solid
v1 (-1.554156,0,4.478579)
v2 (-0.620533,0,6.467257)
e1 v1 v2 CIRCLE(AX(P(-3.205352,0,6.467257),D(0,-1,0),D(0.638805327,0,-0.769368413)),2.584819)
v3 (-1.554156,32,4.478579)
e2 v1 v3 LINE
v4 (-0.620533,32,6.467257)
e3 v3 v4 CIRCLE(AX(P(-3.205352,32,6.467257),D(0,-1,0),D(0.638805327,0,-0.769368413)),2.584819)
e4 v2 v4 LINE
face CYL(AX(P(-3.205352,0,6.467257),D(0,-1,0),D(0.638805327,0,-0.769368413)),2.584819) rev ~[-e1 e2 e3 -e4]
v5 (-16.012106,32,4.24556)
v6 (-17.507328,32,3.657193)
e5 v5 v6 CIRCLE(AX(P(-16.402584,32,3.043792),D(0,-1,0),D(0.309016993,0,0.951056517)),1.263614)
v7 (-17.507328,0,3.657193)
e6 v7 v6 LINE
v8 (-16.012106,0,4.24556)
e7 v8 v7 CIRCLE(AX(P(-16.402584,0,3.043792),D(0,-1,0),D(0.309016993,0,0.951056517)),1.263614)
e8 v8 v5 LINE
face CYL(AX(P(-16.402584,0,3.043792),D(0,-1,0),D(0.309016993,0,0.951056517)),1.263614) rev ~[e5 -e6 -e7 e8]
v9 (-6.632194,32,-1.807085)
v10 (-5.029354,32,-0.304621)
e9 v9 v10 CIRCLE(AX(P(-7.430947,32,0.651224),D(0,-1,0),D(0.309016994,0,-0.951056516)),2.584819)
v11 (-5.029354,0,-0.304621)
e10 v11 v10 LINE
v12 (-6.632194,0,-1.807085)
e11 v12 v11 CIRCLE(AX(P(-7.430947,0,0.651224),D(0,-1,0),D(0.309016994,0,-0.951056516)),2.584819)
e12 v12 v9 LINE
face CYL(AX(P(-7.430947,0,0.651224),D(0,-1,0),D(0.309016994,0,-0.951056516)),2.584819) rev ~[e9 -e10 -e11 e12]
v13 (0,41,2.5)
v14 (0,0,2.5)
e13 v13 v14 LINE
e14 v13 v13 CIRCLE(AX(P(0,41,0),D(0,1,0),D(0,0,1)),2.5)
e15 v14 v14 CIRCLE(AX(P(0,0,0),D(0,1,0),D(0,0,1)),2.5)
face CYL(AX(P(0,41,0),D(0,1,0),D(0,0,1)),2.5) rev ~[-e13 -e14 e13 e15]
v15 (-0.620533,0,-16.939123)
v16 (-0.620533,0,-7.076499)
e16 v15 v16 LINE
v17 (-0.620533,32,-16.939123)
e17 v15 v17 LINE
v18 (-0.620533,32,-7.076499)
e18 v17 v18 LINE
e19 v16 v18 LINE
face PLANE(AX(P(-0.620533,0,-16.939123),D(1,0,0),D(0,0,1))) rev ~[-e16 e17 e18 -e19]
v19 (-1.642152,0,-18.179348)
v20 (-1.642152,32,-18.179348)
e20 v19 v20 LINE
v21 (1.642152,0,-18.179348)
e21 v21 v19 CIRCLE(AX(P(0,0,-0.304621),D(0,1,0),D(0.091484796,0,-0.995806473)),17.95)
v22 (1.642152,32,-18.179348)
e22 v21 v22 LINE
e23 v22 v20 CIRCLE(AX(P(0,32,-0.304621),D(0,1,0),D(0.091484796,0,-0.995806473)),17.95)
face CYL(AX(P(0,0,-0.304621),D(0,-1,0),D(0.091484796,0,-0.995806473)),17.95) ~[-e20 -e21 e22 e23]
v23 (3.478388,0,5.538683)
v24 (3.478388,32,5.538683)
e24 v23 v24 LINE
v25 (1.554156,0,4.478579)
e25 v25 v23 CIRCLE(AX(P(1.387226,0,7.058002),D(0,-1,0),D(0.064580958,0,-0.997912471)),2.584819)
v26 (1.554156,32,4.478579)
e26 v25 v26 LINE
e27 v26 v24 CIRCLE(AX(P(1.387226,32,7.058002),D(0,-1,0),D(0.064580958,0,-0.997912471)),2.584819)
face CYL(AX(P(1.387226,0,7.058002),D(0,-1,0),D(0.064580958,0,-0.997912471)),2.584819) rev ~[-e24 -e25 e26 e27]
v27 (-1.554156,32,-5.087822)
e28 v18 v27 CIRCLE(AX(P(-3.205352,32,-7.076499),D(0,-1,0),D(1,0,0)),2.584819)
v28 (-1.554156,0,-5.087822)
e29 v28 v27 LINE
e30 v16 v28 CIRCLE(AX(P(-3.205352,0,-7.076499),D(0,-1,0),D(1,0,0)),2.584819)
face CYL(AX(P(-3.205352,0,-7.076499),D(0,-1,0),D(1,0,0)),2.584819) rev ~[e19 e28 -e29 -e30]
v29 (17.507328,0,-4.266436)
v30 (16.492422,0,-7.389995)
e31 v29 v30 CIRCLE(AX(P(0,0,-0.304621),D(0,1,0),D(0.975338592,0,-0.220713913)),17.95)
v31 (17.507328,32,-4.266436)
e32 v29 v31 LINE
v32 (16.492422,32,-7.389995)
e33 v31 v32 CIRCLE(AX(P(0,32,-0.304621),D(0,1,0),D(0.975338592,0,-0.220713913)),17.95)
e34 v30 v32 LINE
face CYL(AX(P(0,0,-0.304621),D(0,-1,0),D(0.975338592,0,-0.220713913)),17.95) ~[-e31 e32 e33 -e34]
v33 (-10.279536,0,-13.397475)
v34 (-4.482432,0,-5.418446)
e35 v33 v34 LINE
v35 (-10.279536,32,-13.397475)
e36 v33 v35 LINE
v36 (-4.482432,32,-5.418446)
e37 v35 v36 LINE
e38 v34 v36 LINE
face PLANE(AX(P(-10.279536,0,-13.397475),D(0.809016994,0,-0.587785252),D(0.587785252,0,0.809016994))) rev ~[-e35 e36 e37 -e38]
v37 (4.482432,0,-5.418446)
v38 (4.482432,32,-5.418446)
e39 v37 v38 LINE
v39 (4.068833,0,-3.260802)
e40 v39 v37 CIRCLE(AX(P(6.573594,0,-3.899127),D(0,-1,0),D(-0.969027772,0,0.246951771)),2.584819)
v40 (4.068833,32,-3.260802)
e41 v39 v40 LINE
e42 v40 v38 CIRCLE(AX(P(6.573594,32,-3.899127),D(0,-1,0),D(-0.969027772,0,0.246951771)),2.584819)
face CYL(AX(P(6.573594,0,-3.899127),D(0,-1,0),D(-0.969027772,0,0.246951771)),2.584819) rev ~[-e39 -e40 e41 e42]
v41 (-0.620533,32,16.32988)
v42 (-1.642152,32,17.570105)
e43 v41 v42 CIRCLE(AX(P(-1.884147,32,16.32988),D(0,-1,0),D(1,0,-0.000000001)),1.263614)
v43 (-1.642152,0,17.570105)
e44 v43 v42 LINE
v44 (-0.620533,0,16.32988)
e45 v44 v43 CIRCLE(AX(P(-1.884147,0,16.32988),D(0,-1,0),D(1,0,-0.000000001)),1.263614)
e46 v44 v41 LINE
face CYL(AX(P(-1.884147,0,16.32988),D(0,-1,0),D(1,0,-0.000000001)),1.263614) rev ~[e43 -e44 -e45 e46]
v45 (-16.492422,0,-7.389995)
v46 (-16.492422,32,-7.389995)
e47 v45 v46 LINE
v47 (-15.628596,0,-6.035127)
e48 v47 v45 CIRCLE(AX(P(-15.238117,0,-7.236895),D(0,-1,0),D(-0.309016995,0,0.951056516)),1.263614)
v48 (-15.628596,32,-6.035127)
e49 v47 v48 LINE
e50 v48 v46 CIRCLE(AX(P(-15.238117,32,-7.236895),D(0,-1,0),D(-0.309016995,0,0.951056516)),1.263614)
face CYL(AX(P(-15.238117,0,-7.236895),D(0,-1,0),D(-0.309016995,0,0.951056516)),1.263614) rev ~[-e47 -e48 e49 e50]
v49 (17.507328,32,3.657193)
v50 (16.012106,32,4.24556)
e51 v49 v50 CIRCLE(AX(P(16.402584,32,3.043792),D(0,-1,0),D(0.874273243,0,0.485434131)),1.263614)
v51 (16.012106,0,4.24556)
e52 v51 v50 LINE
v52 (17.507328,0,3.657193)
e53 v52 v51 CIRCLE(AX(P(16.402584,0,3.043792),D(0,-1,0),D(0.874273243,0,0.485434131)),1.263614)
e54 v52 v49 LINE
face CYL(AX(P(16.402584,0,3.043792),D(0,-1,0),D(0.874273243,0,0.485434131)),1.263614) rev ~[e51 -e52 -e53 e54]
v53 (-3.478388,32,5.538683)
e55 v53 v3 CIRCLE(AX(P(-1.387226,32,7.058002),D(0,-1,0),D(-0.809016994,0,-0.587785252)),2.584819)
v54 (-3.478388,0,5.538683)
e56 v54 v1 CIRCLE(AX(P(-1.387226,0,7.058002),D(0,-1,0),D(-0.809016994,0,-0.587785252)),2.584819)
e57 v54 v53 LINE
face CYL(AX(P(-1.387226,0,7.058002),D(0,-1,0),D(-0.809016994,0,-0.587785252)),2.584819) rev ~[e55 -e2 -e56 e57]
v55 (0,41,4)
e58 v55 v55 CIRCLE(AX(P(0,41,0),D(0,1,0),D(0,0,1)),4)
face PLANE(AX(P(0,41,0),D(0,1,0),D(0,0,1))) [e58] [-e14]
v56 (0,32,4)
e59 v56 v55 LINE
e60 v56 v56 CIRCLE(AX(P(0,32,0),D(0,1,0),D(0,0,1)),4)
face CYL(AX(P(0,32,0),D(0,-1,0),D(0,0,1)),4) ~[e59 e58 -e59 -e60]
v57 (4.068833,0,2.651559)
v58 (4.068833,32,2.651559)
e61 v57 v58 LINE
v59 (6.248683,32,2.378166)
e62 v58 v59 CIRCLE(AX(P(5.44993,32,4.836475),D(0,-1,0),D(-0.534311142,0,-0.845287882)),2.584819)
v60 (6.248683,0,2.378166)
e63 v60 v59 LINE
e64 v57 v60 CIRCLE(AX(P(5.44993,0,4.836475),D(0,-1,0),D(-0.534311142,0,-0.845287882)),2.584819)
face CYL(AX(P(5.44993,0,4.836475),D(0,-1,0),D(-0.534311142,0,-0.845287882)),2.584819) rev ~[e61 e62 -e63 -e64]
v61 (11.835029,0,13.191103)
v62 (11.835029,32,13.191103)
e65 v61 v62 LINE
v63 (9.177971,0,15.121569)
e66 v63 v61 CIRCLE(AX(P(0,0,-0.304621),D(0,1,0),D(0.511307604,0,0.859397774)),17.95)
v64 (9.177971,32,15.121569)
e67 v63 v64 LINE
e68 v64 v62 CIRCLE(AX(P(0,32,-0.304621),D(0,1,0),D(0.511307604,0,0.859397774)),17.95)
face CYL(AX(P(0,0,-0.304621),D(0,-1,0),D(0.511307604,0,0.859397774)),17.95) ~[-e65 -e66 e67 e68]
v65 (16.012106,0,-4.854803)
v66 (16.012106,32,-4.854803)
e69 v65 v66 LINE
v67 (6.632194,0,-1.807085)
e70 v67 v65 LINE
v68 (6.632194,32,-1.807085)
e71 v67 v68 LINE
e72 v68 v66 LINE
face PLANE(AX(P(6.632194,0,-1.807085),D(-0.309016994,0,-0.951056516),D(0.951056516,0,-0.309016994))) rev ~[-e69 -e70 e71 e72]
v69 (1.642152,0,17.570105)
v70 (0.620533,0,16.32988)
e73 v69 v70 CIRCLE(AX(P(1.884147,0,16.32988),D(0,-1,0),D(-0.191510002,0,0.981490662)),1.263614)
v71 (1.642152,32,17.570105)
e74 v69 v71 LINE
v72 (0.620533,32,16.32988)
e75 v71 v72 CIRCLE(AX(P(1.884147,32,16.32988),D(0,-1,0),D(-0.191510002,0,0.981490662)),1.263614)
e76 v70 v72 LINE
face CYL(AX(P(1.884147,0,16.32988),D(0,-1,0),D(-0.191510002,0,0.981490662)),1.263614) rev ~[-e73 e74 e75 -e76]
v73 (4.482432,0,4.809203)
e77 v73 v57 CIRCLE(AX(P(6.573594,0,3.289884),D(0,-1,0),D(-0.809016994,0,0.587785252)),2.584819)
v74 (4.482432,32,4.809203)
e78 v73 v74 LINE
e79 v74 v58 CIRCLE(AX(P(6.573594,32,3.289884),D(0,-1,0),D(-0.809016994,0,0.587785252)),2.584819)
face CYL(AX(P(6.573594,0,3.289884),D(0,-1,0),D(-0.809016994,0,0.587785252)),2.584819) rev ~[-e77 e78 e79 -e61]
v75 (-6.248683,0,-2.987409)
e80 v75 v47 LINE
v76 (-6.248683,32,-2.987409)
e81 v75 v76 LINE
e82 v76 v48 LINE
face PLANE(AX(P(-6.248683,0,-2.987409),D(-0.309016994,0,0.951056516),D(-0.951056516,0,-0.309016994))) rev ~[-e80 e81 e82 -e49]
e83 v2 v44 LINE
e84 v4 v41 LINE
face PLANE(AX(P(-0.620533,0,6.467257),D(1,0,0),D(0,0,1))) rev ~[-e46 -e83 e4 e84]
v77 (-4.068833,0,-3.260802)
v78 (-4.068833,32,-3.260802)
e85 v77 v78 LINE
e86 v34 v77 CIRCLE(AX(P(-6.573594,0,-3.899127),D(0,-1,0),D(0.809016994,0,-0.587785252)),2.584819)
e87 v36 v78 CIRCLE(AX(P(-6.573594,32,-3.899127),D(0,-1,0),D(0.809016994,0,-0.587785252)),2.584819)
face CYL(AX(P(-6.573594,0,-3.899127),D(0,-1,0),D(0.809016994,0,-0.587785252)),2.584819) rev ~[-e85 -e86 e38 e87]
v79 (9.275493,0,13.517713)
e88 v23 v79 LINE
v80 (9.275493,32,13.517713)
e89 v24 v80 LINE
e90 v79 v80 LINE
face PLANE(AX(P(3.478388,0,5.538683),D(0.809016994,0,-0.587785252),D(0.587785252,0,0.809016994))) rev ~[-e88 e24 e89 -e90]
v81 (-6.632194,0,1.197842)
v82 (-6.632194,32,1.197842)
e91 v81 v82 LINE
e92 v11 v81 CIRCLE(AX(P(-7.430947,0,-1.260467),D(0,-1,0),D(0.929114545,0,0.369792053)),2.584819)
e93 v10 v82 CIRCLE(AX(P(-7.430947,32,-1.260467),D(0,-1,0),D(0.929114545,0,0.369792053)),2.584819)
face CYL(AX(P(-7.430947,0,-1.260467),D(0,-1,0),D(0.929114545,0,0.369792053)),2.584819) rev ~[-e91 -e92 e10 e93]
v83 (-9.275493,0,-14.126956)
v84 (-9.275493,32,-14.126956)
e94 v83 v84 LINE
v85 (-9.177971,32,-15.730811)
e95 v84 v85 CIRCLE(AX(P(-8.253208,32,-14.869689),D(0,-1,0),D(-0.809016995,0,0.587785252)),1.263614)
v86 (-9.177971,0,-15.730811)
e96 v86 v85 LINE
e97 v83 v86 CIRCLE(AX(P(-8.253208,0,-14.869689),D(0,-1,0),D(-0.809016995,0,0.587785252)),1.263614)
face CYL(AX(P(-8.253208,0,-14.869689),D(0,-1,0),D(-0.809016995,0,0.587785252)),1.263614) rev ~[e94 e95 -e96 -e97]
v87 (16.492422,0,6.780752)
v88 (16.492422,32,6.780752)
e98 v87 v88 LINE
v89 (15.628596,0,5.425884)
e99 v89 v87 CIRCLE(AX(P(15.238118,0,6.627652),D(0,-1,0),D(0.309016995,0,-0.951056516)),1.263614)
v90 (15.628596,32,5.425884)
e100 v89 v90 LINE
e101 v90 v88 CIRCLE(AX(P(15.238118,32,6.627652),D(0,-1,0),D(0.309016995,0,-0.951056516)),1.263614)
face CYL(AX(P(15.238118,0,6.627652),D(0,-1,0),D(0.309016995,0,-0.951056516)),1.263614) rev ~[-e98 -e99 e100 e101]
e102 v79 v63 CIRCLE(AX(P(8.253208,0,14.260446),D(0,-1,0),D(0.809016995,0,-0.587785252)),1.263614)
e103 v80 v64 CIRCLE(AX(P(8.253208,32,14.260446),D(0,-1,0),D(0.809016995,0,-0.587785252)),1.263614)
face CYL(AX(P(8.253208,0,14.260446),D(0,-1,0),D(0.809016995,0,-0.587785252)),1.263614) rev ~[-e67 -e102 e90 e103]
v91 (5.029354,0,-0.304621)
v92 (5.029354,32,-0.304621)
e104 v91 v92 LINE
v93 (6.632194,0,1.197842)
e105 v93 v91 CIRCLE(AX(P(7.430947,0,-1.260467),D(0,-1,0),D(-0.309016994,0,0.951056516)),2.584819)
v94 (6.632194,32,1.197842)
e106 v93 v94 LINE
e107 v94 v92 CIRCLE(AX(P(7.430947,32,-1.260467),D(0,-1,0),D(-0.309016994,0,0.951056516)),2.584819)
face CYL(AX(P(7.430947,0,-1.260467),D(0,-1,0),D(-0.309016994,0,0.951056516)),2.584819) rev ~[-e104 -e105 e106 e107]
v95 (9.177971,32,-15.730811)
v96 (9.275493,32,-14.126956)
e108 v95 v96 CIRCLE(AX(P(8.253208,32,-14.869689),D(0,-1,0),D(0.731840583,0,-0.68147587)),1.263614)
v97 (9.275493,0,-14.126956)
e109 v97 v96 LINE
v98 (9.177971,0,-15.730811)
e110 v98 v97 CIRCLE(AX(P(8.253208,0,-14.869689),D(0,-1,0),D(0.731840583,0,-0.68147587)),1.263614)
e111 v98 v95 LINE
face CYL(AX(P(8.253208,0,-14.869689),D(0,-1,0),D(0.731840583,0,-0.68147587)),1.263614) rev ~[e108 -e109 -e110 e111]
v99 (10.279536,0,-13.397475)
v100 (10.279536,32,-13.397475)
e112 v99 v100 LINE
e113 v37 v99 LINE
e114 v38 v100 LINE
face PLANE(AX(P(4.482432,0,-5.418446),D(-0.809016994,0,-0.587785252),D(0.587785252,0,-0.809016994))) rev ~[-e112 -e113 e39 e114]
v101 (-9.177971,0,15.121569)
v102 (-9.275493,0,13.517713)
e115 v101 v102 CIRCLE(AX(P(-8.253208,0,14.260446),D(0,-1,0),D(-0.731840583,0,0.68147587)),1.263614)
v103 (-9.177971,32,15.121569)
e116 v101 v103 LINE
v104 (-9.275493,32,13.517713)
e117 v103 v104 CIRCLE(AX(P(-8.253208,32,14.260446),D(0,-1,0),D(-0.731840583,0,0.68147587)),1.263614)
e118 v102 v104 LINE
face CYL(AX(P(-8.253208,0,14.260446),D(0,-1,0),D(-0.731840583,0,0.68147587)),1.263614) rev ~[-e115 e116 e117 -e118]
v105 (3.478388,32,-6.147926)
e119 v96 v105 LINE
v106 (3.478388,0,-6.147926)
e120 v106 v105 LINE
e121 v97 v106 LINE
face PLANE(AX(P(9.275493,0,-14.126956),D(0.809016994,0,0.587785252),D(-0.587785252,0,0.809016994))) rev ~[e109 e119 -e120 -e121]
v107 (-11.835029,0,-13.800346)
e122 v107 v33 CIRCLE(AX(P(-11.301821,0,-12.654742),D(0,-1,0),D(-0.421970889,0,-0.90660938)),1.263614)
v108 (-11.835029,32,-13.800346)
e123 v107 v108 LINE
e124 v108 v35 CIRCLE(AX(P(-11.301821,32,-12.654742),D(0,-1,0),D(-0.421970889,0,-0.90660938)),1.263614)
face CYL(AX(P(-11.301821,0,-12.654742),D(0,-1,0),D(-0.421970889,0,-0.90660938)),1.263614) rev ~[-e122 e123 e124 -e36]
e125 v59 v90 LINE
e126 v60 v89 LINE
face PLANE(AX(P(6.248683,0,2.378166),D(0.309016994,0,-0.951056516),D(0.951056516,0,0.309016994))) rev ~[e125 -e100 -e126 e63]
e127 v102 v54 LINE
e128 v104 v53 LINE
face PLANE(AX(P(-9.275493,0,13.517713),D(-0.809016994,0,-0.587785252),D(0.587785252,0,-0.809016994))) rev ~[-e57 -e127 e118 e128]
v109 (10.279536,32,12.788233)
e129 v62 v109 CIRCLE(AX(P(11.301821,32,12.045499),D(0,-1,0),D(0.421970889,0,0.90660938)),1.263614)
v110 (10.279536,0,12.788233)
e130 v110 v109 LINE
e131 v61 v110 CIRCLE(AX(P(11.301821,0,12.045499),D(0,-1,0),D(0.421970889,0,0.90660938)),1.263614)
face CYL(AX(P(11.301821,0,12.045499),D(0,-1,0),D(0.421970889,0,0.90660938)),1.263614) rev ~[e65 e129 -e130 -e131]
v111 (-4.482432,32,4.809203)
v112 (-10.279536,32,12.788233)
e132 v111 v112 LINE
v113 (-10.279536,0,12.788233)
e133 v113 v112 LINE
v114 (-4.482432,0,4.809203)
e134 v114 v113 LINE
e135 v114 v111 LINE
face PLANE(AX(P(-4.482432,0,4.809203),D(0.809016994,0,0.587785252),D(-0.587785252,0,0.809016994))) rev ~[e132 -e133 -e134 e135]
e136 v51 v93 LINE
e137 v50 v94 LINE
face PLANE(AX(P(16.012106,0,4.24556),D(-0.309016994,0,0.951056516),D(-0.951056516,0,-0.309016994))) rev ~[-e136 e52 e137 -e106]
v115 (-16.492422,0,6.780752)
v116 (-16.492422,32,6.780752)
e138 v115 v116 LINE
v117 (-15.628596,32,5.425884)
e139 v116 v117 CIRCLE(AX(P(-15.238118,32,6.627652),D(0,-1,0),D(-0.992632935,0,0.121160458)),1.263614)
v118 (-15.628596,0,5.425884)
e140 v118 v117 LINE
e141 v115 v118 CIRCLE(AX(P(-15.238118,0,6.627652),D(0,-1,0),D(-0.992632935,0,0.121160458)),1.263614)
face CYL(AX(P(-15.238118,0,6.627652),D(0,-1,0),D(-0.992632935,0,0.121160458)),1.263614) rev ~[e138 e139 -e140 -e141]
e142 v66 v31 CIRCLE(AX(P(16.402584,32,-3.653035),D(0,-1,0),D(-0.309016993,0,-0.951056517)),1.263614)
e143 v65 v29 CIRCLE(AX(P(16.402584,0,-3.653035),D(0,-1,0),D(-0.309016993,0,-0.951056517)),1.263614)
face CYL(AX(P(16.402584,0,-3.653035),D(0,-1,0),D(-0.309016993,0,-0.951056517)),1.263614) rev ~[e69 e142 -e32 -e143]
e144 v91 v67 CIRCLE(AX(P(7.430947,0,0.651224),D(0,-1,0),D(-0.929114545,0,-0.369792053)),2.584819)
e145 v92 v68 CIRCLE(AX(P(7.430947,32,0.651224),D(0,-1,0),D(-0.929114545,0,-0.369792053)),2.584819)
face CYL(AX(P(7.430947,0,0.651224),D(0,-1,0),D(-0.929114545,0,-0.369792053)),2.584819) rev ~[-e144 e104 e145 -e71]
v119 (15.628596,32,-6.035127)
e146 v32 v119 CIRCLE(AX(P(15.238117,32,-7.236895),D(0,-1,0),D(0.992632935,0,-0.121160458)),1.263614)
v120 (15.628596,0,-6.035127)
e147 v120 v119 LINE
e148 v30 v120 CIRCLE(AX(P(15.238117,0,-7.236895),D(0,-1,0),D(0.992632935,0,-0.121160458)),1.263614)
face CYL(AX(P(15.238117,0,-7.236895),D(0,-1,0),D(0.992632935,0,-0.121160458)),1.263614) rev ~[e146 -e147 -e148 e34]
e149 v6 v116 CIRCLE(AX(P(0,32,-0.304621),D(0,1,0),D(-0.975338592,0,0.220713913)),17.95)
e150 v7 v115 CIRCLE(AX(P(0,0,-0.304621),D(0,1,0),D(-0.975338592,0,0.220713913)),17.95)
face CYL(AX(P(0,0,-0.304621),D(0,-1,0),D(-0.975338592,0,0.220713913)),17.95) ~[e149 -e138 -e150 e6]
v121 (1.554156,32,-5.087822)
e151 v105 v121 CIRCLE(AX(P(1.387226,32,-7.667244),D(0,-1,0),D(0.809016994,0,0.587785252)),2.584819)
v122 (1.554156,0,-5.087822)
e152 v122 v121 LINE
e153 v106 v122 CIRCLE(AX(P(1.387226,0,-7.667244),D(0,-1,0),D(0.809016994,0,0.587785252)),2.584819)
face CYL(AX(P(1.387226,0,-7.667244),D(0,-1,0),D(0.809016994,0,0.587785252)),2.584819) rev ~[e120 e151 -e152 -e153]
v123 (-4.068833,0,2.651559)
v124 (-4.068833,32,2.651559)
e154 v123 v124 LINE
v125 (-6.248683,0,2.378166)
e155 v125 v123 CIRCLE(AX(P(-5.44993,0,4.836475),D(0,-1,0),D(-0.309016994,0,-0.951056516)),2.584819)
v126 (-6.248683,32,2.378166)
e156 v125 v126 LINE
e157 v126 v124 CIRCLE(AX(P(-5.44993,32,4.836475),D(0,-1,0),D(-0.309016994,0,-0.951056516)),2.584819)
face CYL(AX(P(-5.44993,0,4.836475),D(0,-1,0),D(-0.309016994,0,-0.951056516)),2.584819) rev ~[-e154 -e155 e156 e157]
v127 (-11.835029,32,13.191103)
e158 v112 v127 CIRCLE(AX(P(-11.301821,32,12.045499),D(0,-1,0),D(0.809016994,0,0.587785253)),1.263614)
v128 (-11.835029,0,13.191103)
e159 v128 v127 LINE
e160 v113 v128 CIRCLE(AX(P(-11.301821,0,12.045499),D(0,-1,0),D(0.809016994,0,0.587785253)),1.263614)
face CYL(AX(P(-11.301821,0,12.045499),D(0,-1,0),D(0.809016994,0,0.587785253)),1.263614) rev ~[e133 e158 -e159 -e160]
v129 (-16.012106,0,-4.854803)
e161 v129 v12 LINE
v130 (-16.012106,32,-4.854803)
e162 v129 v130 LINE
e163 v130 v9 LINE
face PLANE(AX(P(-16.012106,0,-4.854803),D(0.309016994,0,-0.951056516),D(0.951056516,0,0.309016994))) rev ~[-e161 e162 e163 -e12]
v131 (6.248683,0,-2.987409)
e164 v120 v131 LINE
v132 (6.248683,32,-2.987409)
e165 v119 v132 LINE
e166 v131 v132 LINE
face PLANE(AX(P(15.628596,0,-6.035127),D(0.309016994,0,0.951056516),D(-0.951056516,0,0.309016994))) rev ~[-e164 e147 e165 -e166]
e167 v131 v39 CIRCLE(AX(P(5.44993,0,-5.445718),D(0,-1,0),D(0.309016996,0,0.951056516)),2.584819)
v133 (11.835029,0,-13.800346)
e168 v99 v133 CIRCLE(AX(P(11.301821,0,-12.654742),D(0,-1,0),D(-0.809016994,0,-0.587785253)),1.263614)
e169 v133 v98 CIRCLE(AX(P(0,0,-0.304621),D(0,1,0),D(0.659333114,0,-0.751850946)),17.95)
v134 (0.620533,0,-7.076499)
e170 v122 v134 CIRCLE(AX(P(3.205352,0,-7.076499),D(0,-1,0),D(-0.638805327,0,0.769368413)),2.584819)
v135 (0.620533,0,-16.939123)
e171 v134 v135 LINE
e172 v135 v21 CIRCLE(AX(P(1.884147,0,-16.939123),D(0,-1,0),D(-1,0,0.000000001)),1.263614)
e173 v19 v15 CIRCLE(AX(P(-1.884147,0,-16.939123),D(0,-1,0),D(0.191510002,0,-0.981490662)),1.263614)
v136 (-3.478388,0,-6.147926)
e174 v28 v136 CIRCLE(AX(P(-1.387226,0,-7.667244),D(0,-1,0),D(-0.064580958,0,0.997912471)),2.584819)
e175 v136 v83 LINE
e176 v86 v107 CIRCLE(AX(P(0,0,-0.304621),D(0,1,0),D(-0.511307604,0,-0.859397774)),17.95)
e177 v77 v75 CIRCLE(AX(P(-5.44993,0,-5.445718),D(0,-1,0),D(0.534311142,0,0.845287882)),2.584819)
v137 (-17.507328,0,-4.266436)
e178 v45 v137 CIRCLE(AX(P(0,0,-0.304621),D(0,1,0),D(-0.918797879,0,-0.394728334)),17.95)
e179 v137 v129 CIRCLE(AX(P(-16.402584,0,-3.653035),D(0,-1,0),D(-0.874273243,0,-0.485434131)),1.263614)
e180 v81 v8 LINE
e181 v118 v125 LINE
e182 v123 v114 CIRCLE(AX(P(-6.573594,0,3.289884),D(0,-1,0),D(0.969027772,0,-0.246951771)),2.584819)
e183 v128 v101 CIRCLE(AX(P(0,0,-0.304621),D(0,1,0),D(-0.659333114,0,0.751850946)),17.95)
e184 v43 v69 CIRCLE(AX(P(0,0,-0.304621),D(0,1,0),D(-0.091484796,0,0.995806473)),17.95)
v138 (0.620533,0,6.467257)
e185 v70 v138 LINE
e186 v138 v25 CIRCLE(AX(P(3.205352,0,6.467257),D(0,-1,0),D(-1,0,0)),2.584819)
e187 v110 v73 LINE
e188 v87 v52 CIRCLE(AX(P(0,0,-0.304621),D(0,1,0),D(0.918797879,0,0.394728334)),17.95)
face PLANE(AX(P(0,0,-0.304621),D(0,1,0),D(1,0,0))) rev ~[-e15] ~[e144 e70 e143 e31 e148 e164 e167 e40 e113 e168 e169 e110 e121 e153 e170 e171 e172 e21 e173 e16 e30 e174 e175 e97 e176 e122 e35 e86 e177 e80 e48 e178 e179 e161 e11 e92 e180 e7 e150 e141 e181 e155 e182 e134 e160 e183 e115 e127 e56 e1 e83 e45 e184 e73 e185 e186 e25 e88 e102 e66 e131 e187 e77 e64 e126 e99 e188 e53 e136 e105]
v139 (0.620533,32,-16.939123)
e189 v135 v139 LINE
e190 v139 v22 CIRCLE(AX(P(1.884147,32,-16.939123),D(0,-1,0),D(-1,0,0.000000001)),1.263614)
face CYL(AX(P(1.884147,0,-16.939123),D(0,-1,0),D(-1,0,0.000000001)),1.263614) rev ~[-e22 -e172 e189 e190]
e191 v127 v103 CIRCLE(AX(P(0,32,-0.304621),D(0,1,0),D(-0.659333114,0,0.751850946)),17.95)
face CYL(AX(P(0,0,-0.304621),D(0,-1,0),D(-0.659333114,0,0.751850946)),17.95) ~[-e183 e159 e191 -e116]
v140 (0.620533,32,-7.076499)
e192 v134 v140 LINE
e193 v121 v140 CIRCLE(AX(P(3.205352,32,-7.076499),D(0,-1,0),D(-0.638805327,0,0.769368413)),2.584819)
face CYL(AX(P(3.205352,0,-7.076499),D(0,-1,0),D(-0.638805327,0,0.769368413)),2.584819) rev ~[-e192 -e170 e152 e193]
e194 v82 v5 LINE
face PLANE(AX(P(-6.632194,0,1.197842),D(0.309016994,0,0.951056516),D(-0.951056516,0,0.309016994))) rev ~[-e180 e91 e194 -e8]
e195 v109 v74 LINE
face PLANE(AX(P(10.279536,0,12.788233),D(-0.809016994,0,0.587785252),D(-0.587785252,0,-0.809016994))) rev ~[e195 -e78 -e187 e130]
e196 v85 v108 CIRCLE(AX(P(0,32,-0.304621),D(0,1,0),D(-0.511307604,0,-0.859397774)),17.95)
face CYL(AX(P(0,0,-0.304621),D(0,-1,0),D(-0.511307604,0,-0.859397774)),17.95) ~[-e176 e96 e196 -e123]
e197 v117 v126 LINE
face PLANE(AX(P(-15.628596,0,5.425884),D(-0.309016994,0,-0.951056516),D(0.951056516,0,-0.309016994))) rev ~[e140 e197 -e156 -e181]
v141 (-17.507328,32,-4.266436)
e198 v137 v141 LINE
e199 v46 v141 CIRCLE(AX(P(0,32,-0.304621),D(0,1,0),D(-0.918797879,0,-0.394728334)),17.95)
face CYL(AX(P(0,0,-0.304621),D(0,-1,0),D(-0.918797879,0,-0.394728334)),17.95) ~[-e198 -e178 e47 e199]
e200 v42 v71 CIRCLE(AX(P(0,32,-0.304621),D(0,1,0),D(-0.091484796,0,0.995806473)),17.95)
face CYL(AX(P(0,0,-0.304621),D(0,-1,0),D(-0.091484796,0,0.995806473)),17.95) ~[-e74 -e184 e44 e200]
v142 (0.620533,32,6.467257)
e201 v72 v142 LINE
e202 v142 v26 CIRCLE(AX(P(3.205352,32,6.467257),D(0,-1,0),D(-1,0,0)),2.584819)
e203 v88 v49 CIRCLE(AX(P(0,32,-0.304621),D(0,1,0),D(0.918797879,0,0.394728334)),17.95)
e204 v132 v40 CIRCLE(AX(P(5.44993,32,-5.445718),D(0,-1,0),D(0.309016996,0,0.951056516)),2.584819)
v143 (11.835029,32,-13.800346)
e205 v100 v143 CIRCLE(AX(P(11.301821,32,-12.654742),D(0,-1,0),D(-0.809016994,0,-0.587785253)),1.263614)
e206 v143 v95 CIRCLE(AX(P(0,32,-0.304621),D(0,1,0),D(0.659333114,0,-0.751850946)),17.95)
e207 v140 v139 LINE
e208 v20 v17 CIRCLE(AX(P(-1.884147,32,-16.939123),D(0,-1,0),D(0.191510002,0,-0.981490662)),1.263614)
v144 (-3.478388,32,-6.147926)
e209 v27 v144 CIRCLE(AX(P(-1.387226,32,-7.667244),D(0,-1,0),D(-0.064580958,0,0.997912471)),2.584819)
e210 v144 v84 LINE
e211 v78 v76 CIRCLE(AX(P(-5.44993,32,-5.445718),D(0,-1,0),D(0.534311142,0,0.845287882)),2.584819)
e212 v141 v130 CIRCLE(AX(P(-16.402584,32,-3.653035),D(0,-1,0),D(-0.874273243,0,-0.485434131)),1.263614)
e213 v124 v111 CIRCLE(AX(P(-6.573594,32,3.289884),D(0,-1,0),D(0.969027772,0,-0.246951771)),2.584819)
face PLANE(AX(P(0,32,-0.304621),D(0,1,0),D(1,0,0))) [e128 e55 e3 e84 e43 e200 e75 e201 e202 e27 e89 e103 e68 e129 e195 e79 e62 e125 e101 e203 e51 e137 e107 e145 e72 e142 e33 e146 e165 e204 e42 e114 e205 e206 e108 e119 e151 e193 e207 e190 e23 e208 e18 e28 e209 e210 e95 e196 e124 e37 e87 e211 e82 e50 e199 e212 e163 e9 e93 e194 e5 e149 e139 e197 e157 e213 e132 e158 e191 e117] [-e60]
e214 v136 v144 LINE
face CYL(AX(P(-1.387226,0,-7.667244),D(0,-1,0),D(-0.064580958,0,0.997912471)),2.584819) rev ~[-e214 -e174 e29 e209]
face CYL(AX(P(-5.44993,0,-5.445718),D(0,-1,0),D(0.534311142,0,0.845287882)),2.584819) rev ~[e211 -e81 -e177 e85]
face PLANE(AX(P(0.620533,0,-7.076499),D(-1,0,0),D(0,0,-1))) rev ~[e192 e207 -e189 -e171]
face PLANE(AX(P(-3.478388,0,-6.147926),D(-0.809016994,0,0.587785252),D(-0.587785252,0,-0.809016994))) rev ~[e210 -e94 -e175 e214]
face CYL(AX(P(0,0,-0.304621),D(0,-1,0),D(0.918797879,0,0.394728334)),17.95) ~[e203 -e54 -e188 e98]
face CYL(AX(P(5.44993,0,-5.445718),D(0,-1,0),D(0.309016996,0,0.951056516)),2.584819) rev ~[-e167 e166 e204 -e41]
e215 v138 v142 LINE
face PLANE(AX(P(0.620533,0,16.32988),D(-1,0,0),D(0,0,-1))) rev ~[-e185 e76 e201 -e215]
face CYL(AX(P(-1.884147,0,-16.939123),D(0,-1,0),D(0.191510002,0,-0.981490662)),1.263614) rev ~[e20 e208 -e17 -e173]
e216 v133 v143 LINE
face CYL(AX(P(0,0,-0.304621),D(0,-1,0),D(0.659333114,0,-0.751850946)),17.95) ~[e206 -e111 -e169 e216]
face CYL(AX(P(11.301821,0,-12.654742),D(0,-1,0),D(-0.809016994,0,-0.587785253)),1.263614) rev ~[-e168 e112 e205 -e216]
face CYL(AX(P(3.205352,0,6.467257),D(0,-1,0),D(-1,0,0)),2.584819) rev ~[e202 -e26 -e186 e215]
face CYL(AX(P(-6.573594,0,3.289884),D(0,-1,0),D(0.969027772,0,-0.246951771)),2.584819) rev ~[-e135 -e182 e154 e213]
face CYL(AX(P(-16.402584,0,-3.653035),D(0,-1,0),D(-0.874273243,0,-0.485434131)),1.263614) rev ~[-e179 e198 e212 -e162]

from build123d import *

# Parameters (mm, degrees)
EXTRUDE_1_DEPTH     = 32
SKETCH_3_R          = 4
EXTRUDE_2_DEPTH     = 9
SKETCH_4_R          = 2.5
CUT_EXTRUDE_1_DEPTH = 49.174035829


with BuildPart() as part:
    # 草图2 → 凸台-拉伸1 (new body)
    with BuildSketch(Plane(origin=(0, 0, 0), x_dir=(1, 0, 0), z_dir=(0, 1, 0))):
        with BuildLine():
            Line((-0.620533184, 16.939122741), (-0.620533184, 7.076499426))
            ThreePointArc((-0.620533184, 7.076499426), (-0.865551691, 5.978035603), (-1.554155931, 5.087821563))
            ThreePointArc((-1.554155931, 5.087821563), (-2.634503149, 5.403268433), (-3.47838812, 6.147926068))
            Line((-3.47838812, 6.147926068), (-9.275492654, 14.126955939))
            ThreePointArc((-9.275492654, 14.126955939), (-9.514491938, 14.94638072), (-9.177971495, 15.730811482))
            ThreePointArc((-9.177971495, 15.730811482), (-10.550745279, 14.826476488), (-11.835029396, 13.800345917))
            ThreePointArc((-11.835029396, 13.800345917), (-10.985000873, 13.877993441), (-10.279536436, 13.397475432))
            Line((-10.279536436, 13.397475432), (-4.482431902, 5.41844556))
            ThreePointArc((-4.482431902, 5.41844556), (-4.034995203, 4.385751395), (-4.068833052, 3.260801691))
            ThreePointArc((-4.068833052, 3.260801691), (-5.128267329, 2.880991407), (-6.248683387, 2.987408949))
            Line((-6.248683387, 2.987408949), (-15.62859556, 6.035127162))
            ThreePointArc((-15.62859556, 6.035127162), (-16.303595844, 6.557575481), (-16.49242192, 7.389995052))
            ThreePointArc((-16.49242192, 7.389995052), (-17.071464467, 5.851476488), (-17.507327728, 4.266436154))
            ThreePointArc((-17.507327728, 4.266436154), (-16.865280276, 4.82888855), (-16.012106158, 4.854802907))
            Line((-16.012106158, 4.854802907), (-6.632193986, 1.807084693))
            ThreePointArc((-6.632193986, 1.807084693), (-5.663207692, 1.234614256), (-5.029354242, 0.304621439))
            ThreePointArc((-5.029354242, 0.304621439), (-5.663207692, -0.625371378), (-6.632193986, -1.197841815))
            Line((-6.632193986, -1.197841815), (-16.012106158, -4.245560029))
            ThreePointArc((-16.012106158, -4.245560029), (-16.865280276, -4.219645672), (-17.507327728, -3.657193276))
            ThreePointArc((-17.507327728, -3.657193276), (-17.071464467, -5.24223361), (-16.49242192, -6.780752173))
            ThreePointArc((-16.49242192, -6.780752173), (-16.303595844, -5.948332603), (-15.62859556, -5.425884284))
            Line((-15.62859556, -5.425884284), (-6.248683387, -2.37816607))
            ThreePointArc((-6.248683387, -2.37816607), (-5.128267329, -2.271748529), (-4.068833052, -2.651558813))
            ThreePointArc((-4.068833052, -2.651558813), (-4.034995203, -3.776508517), (-4.482431902, -4.809202682))
            Line((-4.482431902, -4.809202682), (-10.279536436, -12.788232554))
            ThreePointArc((-10.279536436, -12.788232554), (-10.985000873, -13.268750563), (-11.835029396, -13.191103039))
            ThreePointArc((-11.835029396, -13.191103039), (-10.550745279, -14.21723361), (-9.177971495, -15.121568604))
            ThreePointArc((-9.177971495, -15.121568604), (-9.514491938, -14.337137842), (-9.275492654, -13.517713061))
            Line((-9.275492654, -13.517713061), (-3.47838812, -5.53868319))
            ThreePointArc((-3.47838812, -5.53868319), (-2.634503149, -4.794025555), (-1.554155931, -4.478578685))
            ThreePointArc((-1.554155931, -4.478578685), (-0.865551691, -5.368792725), (-0.620533184, -6.467256547))
            Line((-0.620533184, -6.467256547), (-0.620533184, -16.329879863))
            ThreePointArc((-0.620533184, -16.329879863), (-0.908824502, -17.133288691), (-1.642152093, -17.570104755))
            ThreePointArc((-1.642152093, -17.570104755), (0, -17.645378561), (1.642152093, -17.570104755))
            ThreePointArc((1.642152093, -17.570104755), (0.908824502, -17.133288691), (0.620533184, -16.329879863))
            Line((0.620533184, -16.329879863), (0.620533184, -6.467256547))
            ThreePointArc((0.620533184, -6.467256547), (0.865551691, -5.368792725), (1.554155931, -4.478578685))
            ThreePointArc((1.554155931, -4.478578685), (2.634503149, -4.794025555), (3.47838812, -5.53868319))
            Line((3.47838812, -5.53868319), (9.275492654, -13.517713061))
            ThreePointArc((9.275492654, -13.517713061), (9.514491938, -14.337137842), (9.177971495, -15.121568604))
            ThreePointArc((9.177971495, -15.121568604), (10.550745279, -14.21723361), (11.835029396, -13.191103039))
            ThreePointArc((11.835029396, -13.191103039), (10.985000873, -13.268750563), (10.279536436, -12.788232554))
            Line((10.279536436, -12.788232554), (4.482431902, -4.809202682))
            ThreePointArc((4.482431902, -4.809202682), (4.034995203, -3.776508517), (4.068833052, -2.651558813))
            ThreePointArc((4.068833052, -2.651558813), (5.128267329, -2.271748529), (6.248683387, -2.37816607))
            Line((6.248683387, -2.37816607), (15.62859556, -5.425884284))
            ThreePointArc((15.62859556, -5.425884284), (16.303595844, -5.948332603), (16.49242192, -6.780752173))
            ThreePointArc((16.49242192, -6.780752173), (17.071464467, -5.24223361), (17.507327728, -3.657193276))
            ThreePointArc((17.507327728, -3.657193276), (16.865280276, -4.219645672), (16.012106158, -4.245560029))
            Line((16.012106158, -4.245560029), (6.632193986, -1.197841815))
            ThreePointArc((6.632193986, -1.197841815), (5.663207692, -0.625371378), (5.029354242, 0.304621439))
            ThreePointArc((5.029354242, 0.304621439), (5.663207692, 1.234614256), (6.632193986, 1.807084693))
            Line((6.632193986, 1.807084693), (16.012106158, 4.854802907))
            ThreePointArc((16.012106158, 4.854802907), (16.865280276, 4.82888855), (17.507327728, 4.266436154))
            ThreePointArc((17.507327728, 4.266436154), (17.071464467, 5.851476488), (16.49242192, 7.389995052))
            ThreePointArc((16.49242192, 7.389995052), (16.303595844, 6.557575481), (15.62859556, 6.035127162))
            Line((15.62859556, 6.035127162), (6.248683387, 2.987408949))
            ThreePointArc((6.248683387, 2.987408949), (5.128267329, 2.880991407), (4.068833052, 3.260801691))
            ThreePointArc((4.068833052, 3.260801691), (4.034995203, 4.385751395), (4.482431902, 5.41844556))
            Line((4.482431902, 5.41844556), (10.279536436, 13.397475432))
            ThreePointArc((10.279536436, 13.397475432), (10.985000873, 13.877993441), (11.835029396, 13.800345917))
            ThreePointArc((11.835029396, 13.800345917), (10.550745279, 14.826476488), (9.177971495, 15.730811482))
            ThreePointArc((9.177971495, 15.730811482), (9.514491938, 14.94638072), (9.275492654, 14.126955939))
            Line((9.275492654, 14.126955939), (3.47838812, 6.147926068))
            ThreePointArc((3.47838812, 6.147926068), (2.634503149, 5.403268433), (1.554155931, 5.087821563))
            ThreePointArc((1.554155931, 5.087821563), (0.865551691, 5.978035603), (0.620533184, 7.076499426))
            Line((0.620533184, 7.076499426), (0.620533184, 16.939122741))
            ThreePointArc((0.620533184, 16.939122741), (0.908824502, 17.742531569), (1.642152093, 18.179347633))
            ThreePointArc((1.642152093, 18.179347633), (0, 18.254621439), (-1.642152093, 18.179347633))
            ThreePointArc((-1.642152093, 18.179347633), (-0.908824502, 17.742531569), (-0.620533184, 16.939122741))
        make_face()
    extrude(amount=EXTRUDE_1_DEPTH)

    # 草图3 → 凸台-拉伸2 (add)
    with BuildSketch(Plane(origin=(0, 32, 0), x_dir=(1, 0, 0), z_dir=(0, 1, 0))):
        with Locations(Location((0, 0, 0), (0, 0, 270))):
            Circle(SKETCH_3_R)
    extrude(amount=EXTRUDE_2_DEPTH)

    # 草图4 → 切除-拉伸1 (cut, through all)
    with BuildSketch(Plane(origin=(0, 41, 0), x_dir=(1, 0, 0), z_dir=(0, 1, 0))):
        with Locations(Location((0, 0, 0), (0, 0, 270))):
            Circle(SKETCH_4_R)
    extrude(amount=-CUT_EXTRUDE_1_DEPTH, mode=Mode.SUBTRACT)


solid = part.part
